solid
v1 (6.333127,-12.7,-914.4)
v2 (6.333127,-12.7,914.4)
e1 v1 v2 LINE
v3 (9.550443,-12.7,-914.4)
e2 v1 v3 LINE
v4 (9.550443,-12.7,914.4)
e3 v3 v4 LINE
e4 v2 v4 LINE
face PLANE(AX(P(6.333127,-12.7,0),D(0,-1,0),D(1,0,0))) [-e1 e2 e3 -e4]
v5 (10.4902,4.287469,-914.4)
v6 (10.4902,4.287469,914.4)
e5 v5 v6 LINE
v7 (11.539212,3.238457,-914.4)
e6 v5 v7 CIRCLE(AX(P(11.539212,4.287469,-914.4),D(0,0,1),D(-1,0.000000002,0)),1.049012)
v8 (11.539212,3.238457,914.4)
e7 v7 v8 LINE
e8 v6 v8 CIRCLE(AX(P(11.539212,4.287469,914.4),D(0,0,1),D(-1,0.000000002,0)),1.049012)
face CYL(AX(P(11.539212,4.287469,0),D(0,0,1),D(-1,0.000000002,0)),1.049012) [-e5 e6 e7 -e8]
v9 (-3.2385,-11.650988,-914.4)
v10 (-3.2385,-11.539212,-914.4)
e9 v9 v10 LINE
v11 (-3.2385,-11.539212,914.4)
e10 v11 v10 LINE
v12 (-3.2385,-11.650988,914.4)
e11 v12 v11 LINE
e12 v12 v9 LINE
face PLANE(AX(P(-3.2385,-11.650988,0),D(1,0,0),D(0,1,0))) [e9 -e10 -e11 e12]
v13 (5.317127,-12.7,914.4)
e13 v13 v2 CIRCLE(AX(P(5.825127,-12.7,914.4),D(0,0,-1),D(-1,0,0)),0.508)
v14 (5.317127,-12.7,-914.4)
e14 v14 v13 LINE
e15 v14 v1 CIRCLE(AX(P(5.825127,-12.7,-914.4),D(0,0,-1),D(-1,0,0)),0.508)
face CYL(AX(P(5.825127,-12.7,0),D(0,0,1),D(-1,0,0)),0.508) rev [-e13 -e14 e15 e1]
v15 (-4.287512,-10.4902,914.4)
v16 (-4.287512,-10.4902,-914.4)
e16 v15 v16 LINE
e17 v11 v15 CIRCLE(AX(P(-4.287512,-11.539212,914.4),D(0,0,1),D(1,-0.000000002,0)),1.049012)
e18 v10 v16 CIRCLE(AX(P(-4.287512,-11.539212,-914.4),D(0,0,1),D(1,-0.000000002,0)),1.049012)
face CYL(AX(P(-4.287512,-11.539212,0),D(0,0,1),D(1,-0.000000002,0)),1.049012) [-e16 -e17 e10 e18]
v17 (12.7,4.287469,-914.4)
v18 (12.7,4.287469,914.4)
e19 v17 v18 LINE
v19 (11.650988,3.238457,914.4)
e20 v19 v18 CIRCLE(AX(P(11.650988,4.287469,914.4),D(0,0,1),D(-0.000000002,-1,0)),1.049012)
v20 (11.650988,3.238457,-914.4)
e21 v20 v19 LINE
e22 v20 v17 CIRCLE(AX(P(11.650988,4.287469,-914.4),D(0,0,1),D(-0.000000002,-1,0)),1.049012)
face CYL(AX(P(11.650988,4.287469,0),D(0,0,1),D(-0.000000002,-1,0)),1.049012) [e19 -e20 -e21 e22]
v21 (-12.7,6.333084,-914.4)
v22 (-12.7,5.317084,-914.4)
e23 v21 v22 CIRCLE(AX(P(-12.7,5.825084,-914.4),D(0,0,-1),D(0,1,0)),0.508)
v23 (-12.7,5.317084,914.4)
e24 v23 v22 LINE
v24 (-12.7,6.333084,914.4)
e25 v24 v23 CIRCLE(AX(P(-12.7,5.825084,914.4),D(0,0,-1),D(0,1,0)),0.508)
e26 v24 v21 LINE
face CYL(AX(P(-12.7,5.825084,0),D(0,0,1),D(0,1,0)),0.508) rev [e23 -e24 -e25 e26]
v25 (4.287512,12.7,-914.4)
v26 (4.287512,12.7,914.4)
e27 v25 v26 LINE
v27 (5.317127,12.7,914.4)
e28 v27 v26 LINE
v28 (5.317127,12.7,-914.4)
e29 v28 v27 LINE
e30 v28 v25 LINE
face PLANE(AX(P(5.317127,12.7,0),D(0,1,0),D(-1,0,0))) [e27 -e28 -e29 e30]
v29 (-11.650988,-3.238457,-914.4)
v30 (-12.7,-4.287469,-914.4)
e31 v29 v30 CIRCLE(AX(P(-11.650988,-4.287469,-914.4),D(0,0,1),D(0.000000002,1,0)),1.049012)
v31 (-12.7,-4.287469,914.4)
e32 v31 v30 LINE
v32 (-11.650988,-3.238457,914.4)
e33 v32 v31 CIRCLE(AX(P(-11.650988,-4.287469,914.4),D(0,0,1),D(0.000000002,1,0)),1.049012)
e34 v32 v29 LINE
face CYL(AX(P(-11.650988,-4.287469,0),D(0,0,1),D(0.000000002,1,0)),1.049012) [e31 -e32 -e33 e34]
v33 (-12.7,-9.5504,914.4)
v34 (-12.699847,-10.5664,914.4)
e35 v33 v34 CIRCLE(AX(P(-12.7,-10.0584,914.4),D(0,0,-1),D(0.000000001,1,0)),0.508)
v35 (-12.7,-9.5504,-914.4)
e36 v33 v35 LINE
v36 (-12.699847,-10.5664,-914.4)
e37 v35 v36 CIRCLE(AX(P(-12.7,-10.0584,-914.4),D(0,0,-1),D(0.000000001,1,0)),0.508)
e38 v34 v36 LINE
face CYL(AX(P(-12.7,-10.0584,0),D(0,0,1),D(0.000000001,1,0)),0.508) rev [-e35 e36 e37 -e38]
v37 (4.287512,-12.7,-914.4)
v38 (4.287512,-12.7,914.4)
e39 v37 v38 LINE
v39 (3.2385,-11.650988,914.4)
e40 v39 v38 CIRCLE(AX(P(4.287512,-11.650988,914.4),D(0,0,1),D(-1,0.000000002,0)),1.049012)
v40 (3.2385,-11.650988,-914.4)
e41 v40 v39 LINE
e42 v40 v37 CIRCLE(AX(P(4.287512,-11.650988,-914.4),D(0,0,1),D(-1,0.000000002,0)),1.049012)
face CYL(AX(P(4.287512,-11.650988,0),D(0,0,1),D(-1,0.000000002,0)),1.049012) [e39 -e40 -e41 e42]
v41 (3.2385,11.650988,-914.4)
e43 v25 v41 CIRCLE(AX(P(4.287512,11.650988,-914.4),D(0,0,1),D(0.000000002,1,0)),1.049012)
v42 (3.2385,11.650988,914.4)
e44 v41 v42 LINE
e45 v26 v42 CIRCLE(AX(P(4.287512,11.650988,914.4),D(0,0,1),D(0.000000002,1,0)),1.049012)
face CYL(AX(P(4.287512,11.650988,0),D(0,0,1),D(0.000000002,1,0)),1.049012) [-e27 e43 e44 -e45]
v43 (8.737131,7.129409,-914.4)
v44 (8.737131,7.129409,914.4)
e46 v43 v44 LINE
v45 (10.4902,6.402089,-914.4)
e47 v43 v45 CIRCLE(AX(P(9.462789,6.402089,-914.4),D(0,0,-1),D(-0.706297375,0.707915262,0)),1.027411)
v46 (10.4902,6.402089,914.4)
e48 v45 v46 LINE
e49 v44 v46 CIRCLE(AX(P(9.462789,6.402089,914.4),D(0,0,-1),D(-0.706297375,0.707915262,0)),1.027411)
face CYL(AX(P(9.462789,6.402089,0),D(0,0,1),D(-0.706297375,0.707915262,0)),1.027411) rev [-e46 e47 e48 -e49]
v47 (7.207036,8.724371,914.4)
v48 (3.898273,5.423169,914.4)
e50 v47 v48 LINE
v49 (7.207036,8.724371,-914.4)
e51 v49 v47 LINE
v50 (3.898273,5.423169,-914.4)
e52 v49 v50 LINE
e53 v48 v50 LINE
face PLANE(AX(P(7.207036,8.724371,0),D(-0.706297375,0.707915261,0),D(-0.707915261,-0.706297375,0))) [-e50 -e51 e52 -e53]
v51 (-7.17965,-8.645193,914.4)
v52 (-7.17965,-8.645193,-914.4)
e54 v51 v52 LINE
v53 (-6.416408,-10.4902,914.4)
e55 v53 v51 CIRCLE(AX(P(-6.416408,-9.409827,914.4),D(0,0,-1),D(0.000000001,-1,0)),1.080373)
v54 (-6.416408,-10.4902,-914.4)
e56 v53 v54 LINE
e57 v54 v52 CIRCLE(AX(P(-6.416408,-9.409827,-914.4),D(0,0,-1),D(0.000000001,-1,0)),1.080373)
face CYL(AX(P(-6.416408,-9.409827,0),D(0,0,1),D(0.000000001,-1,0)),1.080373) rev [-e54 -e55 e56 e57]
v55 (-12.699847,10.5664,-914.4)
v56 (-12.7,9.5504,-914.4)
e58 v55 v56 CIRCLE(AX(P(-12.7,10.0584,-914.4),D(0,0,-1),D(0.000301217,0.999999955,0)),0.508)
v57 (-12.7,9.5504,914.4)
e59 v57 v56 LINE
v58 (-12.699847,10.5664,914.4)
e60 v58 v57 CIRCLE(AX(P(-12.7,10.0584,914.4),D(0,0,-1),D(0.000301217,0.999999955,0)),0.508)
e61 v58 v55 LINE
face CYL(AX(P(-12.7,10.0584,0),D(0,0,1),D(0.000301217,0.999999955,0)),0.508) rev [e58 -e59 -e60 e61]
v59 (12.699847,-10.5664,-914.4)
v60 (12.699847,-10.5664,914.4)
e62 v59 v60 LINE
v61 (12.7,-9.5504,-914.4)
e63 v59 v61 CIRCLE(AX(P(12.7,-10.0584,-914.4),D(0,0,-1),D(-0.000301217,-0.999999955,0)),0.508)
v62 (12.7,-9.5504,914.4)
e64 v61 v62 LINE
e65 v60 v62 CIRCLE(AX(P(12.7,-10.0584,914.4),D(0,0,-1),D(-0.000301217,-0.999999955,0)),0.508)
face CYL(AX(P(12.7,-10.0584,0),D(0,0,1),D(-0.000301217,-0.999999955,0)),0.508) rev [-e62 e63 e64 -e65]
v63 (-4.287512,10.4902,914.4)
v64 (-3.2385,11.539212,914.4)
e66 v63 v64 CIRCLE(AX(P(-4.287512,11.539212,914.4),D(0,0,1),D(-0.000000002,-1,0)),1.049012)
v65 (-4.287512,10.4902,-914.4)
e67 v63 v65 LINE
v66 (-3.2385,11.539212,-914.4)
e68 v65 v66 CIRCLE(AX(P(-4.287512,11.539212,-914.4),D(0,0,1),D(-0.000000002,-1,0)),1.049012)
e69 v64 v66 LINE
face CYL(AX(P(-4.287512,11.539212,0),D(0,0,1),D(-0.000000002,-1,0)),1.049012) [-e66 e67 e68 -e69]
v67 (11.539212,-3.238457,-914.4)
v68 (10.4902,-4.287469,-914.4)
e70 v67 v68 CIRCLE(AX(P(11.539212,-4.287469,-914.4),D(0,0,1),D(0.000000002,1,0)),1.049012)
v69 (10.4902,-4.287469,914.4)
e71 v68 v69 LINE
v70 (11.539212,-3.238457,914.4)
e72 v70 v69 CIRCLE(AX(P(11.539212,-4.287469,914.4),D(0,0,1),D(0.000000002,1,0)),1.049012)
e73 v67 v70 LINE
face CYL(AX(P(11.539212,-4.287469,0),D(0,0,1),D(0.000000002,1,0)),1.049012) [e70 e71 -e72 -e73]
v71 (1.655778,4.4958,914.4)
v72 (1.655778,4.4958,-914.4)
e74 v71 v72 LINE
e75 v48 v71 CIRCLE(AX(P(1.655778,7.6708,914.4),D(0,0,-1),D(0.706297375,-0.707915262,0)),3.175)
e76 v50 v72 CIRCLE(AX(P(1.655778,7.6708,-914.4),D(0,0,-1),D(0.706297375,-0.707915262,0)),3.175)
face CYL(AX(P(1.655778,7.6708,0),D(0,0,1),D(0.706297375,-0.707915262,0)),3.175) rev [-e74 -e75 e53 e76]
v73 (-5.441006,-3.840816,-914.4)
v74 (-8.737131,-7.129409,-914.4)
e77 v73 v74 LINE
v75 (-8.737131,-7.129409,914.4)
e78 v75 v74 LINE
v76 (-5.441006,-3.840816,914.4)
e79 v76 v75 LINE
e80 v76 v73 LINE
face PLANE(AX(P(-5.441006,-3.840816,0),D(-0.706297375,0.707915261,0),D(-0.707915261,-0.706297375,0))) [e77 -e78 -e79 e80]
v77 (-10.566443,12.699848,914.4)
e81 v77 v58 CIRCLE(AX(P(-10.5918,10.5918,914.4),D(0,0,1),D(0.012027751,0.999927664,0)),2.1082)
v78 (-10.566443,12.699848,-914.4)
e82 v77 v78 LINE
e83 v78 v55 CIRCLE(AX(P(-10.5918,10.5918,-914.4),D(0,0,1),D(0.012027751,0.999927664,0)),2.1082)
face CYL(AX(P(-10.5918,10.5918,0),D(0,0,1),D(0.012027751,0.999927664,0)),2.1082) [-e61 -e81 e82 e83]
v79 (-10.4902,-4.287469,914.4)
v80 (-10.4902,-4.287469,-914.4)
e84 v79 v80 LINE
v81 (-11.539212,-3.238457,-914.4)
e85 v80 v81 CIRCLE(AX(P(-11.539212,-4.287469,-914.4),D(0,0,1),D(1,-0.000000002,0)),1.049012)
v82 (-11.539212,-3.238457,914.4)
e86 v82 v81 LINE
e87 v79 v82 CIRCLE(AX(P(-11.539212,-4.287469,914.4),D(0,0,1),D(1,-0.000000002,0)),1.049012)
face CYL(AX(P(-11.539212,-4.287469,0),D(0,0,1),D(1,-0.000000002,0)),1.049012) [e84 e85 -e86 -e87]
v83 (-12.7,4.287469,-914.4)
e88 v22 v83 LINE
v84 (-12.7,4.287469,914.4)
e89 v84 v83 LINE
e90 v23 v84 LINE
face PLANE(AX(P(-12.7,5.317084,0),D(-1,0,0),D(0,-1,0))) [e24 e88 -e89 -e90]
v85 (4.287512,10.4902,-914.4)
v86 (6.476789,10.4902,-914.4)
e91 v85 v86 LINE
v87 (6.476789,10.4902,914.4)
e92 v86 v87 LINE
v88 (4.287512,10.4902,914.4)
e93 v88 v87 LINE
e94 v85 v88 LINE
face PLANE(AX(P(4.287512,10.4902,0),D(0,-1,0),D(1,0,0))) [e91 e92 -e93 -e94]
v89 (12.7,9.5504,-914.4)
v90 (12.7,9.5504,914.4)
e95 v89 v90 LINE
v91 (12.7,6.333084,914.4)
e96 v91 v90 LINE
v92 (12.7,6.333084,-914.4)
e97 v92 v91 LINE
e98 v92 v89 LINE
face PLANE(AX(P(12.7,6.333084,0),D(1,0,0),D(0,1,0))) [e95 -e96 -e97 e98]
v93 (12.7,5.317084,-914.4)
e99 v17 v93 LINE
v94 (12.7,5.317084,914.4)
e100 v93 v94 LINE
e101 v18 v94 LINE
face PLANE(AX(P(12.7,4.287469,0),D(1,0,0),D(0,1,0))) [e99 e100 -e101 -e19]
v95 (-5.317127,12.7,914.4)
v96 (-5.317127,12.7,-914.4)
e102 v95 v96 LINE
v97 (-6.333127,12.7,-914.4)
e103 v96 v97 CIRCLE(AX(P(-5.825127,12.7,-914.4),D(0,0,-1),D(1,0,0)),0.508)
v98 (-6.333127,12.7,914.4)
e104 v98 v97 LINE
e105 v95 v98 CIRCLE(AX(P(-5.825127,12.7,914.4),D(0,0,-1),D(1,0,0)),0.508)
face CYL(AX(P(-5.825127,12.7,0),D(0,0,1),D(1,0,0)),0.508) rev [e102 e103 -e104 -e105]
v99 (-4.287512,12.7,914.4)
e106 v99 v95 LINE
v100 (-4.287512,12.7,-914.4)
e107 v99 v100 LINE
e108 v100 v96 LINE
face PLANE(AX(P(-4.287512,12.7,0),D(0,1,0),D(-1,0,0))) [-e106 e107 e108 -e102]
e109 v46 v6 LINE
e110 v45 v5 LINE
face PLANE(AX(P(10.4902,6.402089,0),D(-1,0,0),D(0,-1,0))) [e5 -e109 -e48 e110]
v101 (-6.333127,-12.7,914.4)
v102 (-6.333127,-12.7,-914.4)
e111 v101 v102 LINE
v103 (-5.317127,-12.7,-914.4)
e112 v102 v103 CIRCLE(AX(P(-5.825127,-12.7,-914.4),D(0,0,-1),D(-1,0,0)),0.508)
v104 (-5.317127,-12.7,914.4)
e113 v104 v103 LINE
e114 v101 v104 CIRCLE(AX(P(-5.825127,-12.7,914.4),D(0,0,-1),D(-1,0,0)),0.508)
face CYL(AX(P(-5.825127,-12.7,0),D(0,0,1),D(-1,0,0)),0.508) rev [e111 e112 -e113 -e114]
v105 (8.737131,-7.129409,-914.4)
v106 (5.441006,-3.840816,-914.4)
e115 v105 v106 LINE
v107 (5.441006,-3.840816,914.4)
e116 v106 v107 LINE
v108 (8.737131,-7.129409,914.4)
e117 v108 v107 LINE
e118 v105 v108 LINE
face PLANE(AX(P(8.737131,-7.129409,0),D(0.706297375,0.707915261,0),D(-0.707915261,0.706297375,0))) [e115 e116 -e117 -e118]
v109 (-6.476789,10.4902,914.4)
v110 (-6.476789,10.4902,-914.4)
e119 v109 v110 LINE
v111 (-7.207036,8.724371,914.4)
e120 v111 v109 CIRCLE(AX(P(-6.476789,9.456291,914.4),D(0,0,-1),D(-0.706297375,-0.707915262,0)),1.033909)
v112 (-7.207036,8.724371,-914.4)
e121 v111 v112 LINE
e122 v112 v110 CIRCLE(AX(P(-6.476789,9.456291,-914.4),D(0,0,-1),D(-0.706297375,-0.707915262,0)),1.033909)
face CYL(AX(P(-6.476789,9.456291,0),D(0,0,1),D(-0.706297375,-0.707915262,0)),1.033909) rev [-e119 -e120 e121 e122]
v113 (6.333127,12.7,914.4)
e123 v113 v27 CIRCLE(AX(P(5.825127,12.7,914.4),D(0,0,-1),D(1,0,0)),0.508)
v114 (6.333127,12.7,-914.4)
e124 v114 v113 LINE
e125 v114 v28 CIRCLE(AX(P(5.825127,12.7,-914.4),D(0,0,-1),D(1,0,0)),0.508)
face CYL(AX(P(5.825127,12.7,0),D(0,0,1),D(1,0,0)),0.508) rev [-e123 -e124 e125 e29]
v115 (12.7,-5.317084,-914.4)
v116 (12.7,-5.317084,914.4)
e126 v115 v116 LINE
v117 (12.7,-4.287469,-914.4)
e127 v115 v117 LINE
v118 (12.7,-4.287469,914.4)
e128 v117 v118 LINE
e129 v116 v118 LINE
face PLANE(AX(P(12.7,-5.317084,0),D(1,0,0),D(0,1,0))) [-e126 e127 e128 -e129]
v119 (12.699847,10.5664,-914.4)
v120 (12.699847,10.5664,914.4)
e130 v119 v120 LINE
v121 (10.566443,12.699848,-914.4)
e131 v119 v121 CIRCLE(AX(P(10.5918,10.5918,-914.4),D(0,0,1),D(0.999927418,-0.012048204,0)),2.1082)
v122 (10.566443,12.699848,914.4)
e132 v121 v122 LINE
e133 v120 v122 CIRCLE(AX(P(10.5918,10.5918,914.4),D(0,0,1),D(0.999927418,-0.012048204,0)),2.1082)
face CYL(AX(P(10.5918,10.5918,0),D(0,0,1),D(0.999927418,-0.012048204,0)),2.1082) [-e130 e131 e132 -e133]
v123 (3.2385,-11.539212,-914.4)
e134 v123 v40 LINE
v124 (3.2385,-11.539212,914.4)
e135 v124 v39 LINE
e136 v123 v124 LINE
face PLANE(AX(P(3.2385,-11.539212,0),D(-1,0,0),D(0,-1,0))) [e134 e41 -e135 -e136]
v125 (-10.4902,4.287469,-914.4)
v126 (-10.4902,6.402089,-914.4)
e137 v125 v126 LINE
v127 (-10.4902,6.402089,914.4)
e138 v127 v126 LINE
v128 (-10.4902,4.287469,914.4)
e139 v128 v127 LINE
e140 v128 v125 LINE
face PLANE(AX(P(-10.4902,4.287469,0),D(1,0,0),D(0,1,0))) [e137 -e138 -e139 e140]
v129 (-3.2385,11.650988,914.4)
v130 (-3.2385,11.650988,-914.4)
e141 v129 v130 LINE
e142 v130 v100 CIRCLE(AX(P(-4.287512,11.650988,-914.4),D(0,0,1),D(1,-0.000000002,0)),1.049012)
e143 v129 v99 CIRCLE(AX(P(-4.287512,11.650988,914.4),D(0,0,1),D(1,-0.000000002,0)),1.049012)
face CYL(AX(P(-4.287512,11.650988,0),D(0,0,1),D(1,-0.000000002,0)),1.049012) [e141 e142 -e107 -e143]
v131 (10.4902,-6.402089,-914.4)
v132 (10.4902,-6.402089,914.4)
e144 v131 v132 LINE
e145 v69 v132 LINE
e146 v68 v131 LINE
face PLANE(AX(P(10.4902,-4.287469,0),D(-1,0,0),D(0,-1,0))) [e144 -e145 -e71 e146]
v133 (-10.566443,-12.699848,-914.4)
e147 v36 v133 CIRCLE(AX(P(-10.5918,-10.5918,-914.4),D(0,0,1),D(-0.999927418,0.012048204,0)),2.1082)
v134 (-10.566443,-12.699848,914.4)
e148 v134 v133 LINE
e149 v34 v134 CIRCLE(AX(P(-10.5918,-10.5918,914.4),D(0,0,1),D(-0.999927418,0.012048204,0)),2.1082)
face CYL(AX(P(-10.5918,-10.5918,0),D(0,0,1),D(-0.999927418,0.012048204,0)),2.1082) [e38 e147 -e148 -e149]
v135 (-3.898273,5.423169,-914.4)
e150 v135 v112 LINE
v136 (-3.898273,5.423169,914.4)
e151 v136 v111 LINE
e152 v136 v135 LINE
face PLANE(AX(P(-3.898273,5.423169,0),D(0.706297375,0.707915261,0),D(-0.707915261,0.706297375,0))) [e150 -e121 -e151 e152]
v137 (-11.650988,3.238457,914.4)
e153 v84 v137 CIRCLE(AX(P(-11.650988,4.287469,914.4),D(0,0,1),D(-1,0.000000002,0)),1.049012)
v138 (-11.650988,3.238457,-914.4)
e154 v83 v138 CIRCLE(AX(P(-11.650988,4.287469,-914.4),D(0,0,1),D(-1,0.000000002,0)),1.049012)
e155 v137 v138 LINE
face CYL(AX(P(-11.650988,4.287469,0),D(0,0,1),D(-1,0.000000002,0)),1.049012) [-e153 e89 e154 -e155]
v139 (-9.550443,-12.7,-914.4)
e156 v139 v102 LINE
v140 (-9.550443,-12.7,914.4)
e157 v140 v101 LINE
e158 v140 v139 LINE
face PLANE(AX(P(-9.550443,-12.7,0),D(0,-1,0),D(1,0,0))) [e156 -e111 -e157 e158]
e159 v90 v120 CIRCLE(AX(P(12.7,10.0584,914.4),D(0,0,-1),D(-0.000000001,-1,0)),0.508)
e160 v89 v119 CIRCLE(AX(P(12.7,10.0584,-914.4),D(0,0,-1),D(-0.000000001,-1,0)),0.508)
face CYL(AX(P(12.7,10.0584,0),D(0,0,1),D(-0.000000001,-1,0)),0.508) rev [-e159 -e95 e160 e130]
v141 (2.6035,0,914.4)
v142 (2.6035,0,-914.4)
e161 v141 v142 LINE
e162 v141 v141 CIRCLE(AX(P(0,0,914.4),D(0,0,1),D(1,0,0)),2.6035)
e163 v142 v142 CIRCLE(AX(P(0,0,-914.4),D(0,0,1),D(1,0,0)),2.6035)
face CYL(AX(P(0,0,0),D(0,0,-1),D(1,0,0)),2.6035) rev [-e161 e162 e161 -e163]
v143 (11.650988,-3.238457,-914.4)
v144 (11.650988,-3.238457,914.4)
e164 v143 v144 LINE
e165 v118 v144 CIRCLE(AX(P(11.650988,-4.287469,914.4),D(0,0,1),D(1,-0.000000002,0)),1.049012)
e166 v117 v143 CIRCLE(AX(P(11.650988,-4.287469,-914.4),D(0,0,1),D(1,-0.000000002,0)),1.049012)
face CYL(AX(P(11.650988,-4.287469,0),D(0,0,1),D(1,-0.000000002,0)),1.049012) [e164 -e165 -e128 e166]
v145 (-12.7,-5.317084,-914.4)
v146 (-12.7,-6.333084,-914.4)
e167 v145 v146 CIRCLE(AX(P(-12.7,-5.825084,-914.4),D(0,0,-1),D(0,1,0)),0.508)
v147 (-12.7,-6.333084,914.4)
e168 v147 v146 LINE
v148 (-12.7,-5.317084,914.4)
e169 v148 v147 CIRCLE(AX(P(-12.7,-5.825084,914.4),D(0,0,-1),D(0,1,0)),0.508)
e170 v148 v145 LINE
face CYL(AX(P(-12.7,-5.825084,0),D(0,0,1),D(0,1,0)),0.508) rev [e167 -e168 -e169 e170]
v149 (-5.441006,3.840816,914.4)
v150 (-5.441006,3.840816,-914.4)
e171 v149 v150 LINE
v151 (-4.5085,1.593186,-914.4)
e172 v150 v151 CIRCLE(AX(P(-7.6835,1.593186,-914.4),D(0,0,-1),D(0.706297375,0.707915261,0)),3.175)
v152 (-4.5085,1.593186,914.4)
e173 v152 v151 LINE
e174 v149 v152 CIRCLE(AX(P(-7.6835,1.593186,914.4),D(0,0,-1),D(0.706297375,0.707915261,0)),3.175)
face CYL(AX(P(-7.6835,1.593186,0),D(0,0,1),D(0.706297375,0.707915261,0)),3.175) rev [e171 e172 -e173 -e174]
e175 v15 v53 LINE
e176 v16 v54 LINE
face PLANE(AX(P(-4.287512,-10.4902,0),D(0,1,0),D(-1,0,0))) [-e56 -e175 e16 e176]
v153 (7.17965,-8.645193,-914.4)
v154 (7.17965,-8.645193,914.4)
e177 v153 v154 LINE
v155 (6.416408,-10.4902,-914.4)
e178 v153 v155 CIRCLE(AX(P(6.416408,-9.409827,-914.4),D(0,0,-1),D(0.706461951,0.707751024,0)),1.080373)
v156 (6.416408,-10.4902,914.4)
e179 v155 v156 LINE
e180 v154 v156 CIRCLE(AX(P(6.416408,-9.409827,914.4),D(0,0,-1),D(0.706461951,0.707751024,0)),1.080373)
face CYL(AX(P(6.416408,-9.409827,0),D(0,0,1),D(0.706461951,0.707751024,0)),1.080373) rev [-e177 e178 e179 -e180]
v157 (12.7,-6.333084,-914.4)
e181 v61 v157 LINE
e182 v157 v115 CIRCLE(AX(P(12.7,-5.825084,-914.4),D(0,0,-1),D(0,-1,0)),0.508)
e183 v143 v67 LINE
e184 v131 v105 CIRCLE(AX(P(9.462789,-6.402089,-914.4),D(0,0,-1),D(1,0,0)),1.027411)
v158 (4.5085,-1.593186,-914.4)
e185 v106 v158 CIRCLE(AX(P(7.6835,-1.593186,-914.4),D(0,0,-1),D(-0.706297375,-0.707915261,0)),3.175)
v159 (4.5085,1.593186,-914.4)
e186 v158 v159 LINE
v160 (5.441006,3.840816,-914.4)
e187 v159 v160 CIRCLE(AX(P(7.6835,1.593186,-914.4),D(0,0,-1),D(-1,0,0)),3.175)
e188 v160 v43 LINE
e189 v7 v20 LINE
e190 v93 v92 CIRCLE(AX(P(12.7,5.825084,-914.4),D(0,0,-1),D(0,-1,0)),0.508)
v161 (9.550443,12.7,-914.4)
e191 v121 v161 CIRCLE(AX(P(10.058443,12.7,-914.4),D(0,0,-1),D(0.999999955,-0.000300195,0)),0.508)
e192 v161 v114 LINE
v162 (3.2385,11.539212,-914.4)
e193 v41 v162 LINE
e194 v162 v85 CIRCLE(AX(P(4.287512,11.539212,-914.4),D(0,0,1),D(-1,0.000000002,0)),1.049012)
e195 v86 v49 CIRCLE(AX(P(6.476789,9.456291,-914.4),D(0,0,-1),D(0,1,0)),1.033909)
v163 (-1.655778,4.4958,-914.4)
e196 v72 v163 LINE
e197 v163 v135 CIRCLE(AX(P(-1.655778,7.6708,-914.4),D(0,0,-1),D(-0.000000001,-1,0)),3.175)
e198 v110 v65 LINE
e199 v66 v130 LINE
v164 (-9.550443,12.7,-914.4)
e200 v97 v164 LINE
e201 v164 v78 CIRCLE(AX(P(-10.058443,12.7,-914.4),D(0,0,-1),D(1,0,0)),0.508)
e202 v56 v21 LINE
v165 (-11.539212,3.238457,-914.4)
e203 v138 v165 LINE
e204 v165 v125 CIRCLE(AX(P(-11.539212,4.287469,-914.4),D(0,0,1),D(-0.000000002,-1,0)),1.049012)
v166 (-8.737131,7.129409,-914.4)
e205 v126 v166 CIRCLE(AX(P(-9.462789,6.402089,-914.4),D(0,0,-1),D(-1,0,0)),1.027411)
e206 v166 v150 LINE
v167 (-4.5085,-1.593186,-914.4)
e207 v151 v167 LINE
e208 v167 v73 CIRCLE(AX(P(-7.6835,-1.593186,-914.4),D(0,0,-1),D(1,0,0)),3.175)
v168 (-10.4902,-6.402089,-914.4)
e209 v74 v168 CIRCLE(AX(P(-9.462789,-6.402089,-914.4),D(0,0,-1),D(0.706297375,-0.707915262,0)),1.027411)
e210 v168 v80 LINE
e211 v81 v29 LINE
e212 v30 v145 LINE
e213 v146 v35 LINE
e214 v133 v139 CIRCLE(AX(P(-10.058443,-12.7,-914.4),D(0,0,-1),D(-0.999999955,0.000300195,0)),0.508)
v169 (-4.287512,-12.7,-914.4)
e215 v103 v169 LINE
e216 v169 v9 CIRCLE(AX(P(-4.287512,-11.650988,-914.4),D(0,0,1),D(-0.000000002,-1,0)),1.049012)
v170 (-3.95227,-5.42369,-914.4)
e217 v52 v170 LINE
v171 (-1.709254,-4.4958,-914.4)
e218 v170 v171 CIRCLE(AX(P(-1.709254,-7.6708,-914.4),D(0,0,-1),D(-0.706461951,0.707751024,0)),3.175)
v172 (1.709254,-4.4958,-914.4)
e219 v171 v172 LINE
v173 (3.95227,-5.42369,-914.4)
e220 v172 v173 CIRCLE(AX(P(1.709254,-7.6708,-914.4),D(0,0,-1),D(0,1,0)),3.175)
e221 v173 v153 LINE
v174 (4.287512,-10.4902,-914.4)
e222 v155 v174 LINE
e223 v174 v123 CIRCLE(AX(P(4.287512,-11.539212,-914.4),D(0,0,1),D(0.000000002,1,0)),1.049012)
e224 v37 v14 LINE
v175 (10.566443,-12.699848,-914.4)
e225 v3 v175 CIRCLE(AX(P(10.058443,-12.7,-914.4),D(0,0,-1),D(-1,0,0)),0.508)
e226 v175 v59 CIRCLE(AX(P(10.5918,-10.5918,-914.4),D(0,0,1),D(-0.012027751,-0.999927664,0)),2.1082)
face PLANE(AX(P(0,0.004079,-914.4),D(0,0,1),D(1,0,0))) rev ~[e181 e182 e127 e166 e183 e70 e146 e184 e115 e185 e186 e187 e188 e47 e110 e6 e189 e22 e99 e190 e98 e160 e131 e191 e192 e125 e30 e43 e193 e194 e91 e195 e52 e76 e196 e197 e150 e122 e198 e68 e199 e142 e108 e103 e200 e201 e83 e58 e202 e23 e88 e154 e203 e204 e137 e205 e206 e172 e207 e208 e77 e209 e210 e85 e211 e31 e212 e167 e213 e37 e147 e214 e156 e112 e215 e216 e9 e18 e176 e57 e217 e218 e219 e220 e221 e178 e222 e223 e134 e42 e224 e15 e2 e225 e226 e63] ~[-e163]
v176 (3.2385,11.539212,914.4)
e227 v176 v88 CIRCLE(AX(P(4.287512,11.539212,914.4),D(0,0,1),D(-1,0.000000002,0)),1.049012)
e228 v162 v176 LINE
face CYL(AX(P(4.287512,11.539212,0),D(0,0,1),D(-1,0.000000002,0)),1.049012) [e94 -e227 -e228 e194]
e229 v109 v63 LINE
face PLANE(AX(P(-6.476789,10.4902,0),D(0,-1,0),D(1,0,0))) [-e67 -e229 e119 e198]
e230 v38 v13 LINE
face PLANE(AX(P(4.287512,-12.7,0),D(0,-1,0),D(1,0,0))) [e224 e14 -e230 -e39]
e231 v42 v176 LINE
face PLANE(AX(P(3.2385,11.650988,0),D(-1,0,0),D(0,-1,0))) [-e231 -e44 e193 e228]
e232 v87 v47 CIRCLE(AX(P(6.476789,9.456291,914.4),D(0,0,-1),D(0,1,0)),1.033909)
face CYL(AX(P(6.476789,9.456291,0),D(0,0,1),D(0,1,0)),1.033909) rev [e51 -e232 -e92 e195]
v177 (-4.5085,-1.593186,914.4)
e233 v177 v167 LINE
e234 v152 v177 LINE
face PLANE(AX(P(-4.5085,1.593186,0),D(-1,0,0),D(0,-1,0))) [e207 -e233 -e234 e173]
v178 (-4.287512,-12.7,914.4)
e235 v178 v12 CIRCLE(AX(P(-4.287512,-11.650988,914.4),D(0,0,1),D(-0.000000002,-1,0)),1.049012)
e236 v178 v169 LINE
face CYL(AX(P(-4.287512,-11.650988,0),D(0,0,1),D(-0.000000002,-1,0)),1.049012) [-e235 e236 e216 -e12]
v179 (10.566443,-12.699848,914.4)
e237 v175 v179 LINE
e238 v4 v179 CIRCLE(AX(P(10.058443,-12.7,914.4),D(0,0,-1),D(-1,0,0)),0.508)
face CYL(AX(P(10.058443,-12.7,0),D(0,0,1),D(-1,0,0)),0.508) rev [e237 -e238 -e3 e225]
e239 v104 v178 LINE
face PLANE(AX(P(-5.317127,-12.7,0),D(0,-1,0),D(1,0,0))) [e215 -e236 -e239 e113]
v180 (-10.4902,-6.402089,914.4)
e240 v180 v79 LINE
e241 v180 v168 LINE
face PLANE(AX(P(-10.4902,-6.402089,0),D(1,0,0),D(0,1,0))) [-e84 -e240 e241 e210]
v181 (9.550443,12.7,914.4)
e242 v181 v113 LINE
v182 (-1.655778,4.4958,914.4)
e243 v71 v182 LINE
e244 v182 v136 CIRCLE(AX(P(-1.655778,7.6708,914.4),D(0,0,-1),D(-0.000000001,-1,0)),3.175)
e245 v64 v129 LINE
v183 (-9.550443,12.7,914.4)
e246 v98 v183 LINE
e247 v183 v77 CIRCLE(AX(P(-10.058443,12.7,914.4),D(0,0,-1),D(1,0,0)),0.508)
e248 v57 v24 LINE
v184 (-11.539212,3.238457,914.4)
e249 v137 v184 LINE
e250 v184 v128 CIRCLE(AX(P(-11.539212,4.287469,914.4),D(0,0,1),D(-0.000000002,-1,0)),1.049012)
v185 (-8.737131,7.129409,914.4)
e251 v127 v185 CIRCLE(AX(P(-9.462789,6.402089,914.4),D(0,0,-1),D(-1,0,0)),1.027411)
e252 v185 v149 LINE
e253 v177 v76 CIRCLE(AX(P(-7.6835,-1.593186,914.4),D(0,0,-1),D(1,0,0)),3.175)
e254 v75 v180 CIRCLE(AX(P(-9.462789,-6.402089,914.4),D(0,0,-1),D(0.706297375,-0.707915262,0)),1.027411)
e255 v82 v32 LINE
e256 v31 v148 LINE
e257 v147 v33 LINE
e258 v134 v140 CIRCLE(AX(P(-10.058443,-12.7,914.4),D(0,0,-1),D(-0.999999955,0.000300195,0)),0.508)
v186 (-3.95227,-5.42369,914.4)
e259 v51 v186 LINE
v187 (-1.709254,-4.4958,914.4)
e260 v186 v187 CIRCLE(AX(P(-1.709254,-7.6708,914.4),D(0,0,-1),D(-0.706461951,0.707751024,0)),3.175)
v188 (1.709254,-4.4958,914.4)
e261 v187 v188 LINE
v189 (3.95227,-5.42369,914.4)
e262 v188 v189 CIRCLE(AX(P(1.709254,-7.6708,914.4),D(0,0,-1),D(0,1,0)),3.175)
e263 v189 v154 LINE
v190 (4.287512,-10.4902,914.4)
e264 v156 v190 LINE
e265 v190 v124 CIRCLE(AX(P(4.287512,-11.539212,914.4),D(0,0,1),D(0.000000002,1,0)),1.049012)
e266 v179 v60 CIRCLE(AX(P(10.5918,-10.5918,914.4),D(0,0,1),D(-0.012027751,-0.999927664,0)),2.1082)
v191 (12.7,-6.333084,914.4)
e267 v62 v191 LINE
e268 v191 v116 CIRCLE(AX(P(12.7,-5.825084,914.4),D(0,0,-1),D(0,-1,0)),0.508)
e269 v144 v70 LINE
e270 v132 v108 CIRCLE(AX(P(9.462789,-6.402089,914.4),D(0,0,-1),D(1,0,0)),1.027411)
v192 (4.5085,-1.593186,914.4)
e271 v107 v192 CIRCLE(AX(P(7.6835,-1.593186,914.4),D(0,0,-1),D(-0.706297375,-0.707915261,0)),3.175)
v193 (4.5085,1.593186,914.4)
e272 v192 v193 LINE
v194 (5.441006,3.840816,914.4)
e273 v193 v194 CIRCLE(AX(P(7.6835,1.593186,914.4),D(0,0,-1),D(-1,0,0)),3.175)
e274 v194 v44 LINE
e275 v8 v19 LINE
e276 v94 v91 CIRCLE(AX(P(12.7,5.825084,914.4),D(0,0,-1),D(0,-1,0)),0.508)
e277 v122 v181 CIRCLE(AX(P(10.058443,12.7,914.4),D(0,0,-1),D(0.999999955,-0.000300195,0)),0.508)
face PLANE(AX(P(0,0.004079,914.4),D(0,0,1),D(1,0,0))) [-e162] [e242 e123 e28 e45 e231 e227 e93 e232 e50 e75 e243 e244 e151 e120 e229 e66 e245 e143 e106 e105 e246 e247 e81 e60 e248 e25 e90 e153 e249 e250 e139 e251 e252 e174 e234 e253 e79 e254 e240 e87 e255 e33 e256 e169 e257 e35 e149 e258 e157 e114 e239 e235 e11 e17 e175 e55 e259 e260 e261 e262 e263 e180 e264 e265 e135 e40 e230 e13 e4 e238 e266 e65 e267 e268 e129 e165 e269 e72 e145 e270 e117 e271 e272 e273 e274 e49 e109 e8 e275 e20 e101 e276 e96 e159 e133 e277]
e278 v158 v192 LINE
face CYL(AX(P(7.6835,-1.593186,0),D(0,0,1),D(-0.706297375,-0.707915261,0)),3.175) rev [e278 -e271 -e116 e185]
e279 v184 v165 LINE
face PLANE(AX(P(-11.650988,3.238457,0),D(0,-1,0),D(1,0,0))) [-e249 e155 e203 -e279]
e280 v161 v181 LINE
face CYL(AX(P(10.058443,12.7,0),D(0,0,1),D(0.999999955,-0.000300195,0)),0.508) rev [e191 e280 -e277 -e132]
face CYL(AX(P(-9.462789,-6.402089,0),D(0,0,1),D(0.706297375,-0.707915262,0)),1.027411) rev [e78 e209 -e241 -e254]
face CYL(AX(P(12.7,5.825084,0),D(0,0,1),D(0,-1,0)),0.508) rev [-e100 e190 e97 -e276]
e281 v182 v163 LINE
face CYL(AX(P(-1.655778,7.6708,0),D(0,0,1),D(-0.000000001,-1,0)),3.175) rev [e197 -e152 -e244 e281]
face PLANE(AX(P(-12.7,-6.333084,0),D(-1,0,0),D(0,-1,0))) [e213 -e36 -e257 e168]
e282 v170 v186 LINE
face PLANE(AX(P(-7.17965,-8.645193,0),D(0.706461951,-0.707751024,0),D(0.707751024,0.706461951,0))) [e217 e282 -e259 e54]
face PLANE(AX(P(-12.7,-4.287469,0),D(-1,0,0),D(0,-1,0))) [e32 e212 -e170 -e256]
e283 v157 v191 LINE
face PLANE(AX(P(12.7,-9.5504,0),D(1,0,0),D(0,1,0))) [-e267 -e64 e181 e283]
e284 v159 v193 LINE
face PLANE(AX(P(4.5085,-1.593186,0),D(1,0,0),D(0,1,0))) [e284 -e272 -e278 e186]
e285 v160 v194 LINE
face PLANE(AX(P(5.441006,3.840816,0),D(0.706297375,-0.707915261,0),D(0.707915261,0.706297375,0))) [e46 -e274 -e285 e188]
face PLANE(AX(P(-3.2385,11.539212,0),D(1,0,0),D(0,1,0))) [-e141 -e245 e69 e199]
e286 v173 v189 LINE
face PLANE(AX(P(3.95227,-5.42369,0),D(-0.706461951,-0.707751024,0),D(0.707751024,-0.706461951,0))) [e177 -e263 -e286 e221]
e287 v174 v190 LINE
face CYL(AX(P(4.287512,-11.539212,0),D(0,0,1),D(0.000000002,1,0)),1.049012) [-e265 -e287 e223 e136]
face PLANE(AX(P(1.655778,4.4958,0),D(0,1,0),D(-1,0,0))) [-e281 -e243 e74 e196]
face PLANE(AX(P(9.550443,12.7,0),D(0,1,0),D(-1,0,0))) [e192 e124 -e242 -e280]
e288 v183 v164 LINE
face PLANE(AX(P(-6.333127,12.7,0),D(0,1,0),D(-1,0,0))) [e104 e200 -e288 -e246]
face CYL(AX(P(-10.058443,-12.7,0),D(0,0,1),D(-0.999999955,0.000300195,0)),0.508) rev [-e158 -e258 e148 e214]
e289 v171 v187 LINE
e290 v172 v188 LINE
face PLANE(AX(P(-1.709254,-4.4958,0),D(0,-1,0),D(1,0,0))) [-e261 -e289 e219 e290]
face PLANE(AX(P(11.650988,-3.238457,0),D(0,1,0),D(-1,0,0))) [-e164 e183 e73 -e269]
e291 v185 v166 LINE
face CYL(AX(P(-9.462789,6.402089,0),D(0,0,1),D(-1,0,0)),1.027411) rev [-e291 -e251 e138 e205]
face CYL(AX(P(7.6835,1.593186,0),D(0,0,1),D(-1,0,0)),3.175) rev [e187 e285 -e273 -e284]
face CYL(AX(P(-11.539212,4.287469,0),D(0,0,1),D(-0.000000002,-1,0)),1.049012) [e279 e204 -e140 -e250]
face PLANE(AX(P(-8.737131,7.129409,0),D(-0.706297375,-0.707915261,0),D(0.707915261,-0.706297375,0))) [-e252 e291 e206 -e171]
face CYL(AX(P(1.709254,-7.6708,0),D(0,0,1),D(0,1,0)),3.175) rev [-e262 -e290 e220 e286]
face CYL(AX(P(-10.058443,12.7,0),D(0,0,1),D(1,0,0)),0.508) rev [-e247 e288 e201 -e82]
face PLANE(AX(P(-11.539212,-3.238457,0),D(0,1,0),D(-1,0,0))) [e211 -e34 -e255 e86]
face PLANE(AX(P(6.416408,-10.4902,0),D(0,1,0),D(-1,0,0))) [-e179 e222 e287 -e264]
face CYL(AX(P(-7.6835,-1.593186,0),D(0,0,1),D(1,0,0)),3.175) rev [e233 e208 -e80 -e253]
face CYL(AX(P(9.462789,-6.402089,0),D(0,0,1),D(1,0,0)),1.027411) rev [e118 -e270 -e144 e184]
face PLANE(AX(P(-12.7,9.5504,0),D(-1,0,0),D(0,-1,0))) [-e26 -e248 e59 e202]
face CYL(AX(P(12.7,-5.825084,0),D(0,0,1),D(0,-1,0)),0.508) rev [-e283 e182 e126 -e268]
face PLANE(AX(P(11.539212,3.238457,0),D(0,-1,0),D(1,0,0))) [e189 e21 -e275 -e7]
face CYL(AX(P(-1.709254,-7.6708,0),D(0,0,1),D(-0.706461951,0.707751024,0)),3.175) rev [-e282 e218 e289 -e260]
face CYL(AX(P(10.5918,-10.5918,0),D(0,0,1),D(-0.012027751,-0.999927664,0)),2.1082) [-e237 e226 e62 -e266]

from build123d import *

# Parameters (mm, degrees)
SKETCH1_R           = 2.6035
BOSS_EXTRUDE1_DEPTH = 914.4


with BuildPart() as part:
    # Sketch1 → Boss-Extrude1 (new body, symmetric)
    with BuildSketch(Plane.XY):
        with BuildLine():
            Line((-7.179650497, -8.645192506), (-3.952270251, -5.423690499))
            ThreePointArc((-3.952270251, -5.423690499), (-2.922936451, -4.736929036), (-1.709253557, -4.4958))
            Line((-1.709253557, -4.4958), (1.709253557, -4.4958))
            ThreePointArc((1.709253557, -4.4958), (2.922936451, -4.736929036), (3.952270251, -5.423690499))
            Line((3.952270251, -5.423690499), (7.179650497, -8.645192506))
            ThreePointArc((7.179650497, -8.645192506), (7.41473083, -9.822813117), (6.416408329, -10.4902))
            Line((6.416408329, -10.4902), (4.287512407, -10.4902))
            ThreePointArc((4.287512407, -10.4902), (3.54574862, -10.79744862), (3.2385, -11.539212407))
            Line((3.2385, -11.539212407), (3.2385, -11.650987593))
            ThreePointArc((3.2385, -11.650987593), (3.54574862, -12.39275138), (4.287512407, -12.7))
            Line((4.287512407, -12.7), (5.317126718, -12.7))
            ThreePointArc((5.317126718, -12.7), (5.825126718, -12.192), (6.333126718, -12.7))
            Line((6.333126718, -12.7), (9.550443118, -12.7))
            ThreePointArc((9.550443118, -12.7), (10.058366869, -12.192000006), (10.566443095, -12.699847501))
            ThreePointArc((10.566443095, -12.699847501), (12.082537762, -12.08250727), (12.699846982, -10.566399977))
            ThreePointArc((12.699846982, -10.566399977), (12.192000006, -10.058323491), (12.7, -9.5504))
            Line((12.7, -9.5504), (12.7, -6.3330836))
            ThreePointArc((12.7, -6.3330836), (12.192, -5.8250836), (12.7, -5.3170836))
            Line((12.7, -5.3170836), (12.7, -4.287469289))
            ThreePointArc((12.7, -4.287469289), (12.39275138, -3.545705502), (11.650987593, -3.238456882))
            Line((11.650987593, -3.238456882), (11.539212407, -3.238456882))
            ThreePointArc((11.539212407, -3.238456882), (10.79744862, -3.545705502), (10.4902, -4.287469289))
            Line((10.4902, -4.287469289), (10.4902, -6.402089023))
            ThreePointArc((10.4902, -6.402089023), (9.856505071, -7.351067942), (8.737131347, -7.129408934))
            Line((8.737131347, -7.129408934), (5.441005833, -3.840816462))
            ThreePointArc((5.441005833, -3.840816462), (4.750877967, -2.809883091), (4.5085, -1.593185507))
            Line((4.5085, -1.593185507), (4.5085, 1.593185507))
            ThreePointArc((4.5085, 1.593185507), (4.750877967, 2.809883091), (5.441005833, 3.840816462))
            Line((5.441005833, 3.840816462), (8.737131347, 7.129408934))
            ThreePointArc((8.737131347, 7.129408934), (9.856505071, 7.351067942), (10.4902, 6.402089023))
            Line((10.4902, 6.402089023), (10.4902, 4.287469289))
            ThreePointArc((10.4902, 4.287469289), (10.79744862, 3.545705502), (11.539212407, 3.238456882))
            Line((11.539212407, 3.238456882), (11.650987593, 3.238456882))
            ThreePointArc((11.650987593, 3.238456882), (12.39275138, 3.545705502), (12.7, 4.287469289))
            Line((12.7, 4.287469289), (12.7, 5.3170836))
            ThreePointArc((12.7, 5.3170836), (12.192, 5.8250836), (12.7, 6.3330836))
            Line((12.7, 6.3330836), (12.7, 9.5504))
            ThreePointArc((12.7, 9.5504), (12.192000006, 10.058323491), (12.699846982, 10.566399977))
            ThreePointArc((12.699846982, 10.566399977), (12.082537762, 12.08250727), (10.566443095, 12.699847501))
            ThreePointArc((10.566443095, 12.699847501), (10.058366869, 12.192000006), (9.550443118, 12.7))
            Line((9.550443118, 12.7), (6.333126718, 12.7))
            ThreePointArc((6.333126718, 12.7), (5.825126718, 12.192), (5.317126718, 12.7))
            Line((5.317126718, 12.7), (4.287512407, 12.7))
            ThreePointArc((4.287512407, 12.7), (3.54574862, 12.39275138), (3.2385, 11.650987593))
            Line((3.2385, 11.650987593), (3.2385, 11.539212407))
            ThreePointArc((3.2385, 11.539212407), (3.54574862, 10.79744862), (4.287512407, 10.4902))
            Line((4.287512407, 10.4902), (6.476788598, 10.4902))
            ThreePointArc((6.476788598, 10.4902), (7.432222385, 9.85140422), (7.207036008, 8.724370562))
            Line((7.207036008, 8.724370562), (3.898272566, 5.423169045))
            ThreePointArc((3.898272566, 5.423169045), (2.869120213, 4.736787962), (1.655778399, 4.4958))
            Line((1.655778399, 4.4958), (-1.655778399, 4.4958))
            ThreePointArc((-1.655778399, 4.4958), (-2.869120213, 4.736787962), (-3.898272566, 5.423169045))
            Line((-3.898272566, 5.423169045), (-7.207036008, 8.724370562))
            ThreePointArc((-7.207036008, 8.724370562), (-7.432222385, 9.85140422), (-6.476788598, 10.4902))
            Line((-6.476788598, 10.4902), (-4.287512407, 10.4902))
            ThreePointArc((-4.287512407, 10.4902), (-3.54574862, 10.79744862), (-3.2385, 11.539212407))
            Line((-3.2385, 11.539212407), (-3.2385, 11.650987593))
            ThreePointArc((-3.2385, 11.650987593), (-3.54574862, 12.39275138), (-4.287512407, 12.7))
            Line((-4.287512407, 12.7), (-5.317126718, 12.7))
            ThreePointArc((-5.317126718, 12.7), (-5.825126718, 12.192), (-6.333126718, 12.7))
            Line((-6.333126718, 12.7), (-9.550443118, 12.7))
            ThreePointArc((-9.550443118, 12.7), (-10.058366869, 12.192000006), (-10.566443095, 12.699847501))
            ThreePointArc((-10.566443095, 12.699847501), (-12.082537762, 12.08250727), (-12.699846982, 10.566399977))
            ThreePointArc((-12.699846982, 10.566399977), (-12.192000006, 10.058323491), (-12.7, 9.5504))
            Line((-12.7, 9.5504), (-12.7, 6.3330836))
            ThreePointArc((-12.7, 6.3330836), (-12.192, 5.8250836), (-12.7, 5.3170836))
            Line((-12.7, 5.3170836), (-12.7, 4.287469289))
            ThreePointArc((-12.7, 4.287469289), (-12.39275138, 3.545705502), (-11.650987593, 3.238456882))
            Line((-11.650987593, 3.238456882), (-11.539212407, 3.238456882))
            ThreePointArc((-11.539212407, 3.238456882), (-10.79744862, 3.545705502), (-10.4902, 4.287469289))
            Line((-10.4902, 4.287469289), (-10.4902, 6.402089023))
            ThreePointArc((-10.4902, 6.402089023), (-9.856505071, 7.351067942), (-8.737131347, 7.129408934))
            Line((-8.737131347, 7.129408934), (-5.441005833, 3.840816462))
            ThreePointArc((-5.441005833, 3.840816462), (-4.750877967, 2.809883091), (-4.5085, 1.593185507))
            Line((-4.5085, 1.593185507), (-4.5085, -1.593185507))
            ThreePointArc((-4.5085, -1.593185507), (-4.750877967, -2.809883091), (-5.441005833, -3.840816462))
            Line((-5.441005833, -3.840816462), (-8.737131347, -7.129408934))
            ThreePointArc((-8.737131347, -7.129408934), (-9.856505071, -7.351067942), (-10.4902, -6.402089023))
            Line((-10.4902, -6.402089023), (-10.4902, -4.287469289))
            ThreePointArc((-10.4902, -4.287469289), (-10.79744862, -3.545705502), (-11.539212407, -3.238456882))
            Line((-11.539212407, -3.238456882), (-11.650987593, -3.238456882))
            ThreePointArc((-11.650987593, -3.238456882), (-12.39275138, -3.545705502), (-12.7, -4.287469289))
            Line((-12.7, -4.287469289), (-12.7, -5.3170836))
            ThreePointArc((-12.7, -5.3170836), (-12.192, -5.8250836), (-12.7, -6.3330836))
            Line((-12.7, -6.3330836), (-12.7, -9.5504))
            ThreePointArc((-12.7, -9.5504), (-12.192000006, -10.058323491), (-12.699846982, -10.566399977))
            ThreePointArc((-12.699846982, -10.566399977), (-12.082537762, -12.08250727), (-10.566443095, -12.699847501))
            ThreePointArc((-10.566443095, -12.699847501), (-10.058366869, -12.192000006), (-9.550443118, -12.7))
            Line((-9.550443118, -12.7), (-6.333126718, -12.7))
            ThreePointArc((-6.333126718, -12.7), (-5.825126718, -12.192), (-5.317126718, -12.7))
            Line((-5.317126718, -12.7), (-4.287512407, -12.7))
            ThreePointArc((-4.287512407, -12.7), (-3.54574862, -12.39275138), (-3.2385, -11.650987593))
            Line((-3.2385, -11.650987593), (-3.2385, -11.539212407))
            ThreePointArc((-3.2385, -11.539212407), (-3.54574862, -10.79744862), (-4.287512407, -10.4902))
            Line((-4.287512407, -10.4902), (-6.416408329, -10.4902))
            ThreePointArc((-6.416408329, -10.4902), (-7.41473083, -9.822813117), (-7.179650497, -8.645192506))
        make_face()
        Circle(SKETCH1_R, mode=Mode.SUBTRACT)
    extrude(amount=BOSS_EXTRUDE1_DEPTH, both=True)


solid = part.part
